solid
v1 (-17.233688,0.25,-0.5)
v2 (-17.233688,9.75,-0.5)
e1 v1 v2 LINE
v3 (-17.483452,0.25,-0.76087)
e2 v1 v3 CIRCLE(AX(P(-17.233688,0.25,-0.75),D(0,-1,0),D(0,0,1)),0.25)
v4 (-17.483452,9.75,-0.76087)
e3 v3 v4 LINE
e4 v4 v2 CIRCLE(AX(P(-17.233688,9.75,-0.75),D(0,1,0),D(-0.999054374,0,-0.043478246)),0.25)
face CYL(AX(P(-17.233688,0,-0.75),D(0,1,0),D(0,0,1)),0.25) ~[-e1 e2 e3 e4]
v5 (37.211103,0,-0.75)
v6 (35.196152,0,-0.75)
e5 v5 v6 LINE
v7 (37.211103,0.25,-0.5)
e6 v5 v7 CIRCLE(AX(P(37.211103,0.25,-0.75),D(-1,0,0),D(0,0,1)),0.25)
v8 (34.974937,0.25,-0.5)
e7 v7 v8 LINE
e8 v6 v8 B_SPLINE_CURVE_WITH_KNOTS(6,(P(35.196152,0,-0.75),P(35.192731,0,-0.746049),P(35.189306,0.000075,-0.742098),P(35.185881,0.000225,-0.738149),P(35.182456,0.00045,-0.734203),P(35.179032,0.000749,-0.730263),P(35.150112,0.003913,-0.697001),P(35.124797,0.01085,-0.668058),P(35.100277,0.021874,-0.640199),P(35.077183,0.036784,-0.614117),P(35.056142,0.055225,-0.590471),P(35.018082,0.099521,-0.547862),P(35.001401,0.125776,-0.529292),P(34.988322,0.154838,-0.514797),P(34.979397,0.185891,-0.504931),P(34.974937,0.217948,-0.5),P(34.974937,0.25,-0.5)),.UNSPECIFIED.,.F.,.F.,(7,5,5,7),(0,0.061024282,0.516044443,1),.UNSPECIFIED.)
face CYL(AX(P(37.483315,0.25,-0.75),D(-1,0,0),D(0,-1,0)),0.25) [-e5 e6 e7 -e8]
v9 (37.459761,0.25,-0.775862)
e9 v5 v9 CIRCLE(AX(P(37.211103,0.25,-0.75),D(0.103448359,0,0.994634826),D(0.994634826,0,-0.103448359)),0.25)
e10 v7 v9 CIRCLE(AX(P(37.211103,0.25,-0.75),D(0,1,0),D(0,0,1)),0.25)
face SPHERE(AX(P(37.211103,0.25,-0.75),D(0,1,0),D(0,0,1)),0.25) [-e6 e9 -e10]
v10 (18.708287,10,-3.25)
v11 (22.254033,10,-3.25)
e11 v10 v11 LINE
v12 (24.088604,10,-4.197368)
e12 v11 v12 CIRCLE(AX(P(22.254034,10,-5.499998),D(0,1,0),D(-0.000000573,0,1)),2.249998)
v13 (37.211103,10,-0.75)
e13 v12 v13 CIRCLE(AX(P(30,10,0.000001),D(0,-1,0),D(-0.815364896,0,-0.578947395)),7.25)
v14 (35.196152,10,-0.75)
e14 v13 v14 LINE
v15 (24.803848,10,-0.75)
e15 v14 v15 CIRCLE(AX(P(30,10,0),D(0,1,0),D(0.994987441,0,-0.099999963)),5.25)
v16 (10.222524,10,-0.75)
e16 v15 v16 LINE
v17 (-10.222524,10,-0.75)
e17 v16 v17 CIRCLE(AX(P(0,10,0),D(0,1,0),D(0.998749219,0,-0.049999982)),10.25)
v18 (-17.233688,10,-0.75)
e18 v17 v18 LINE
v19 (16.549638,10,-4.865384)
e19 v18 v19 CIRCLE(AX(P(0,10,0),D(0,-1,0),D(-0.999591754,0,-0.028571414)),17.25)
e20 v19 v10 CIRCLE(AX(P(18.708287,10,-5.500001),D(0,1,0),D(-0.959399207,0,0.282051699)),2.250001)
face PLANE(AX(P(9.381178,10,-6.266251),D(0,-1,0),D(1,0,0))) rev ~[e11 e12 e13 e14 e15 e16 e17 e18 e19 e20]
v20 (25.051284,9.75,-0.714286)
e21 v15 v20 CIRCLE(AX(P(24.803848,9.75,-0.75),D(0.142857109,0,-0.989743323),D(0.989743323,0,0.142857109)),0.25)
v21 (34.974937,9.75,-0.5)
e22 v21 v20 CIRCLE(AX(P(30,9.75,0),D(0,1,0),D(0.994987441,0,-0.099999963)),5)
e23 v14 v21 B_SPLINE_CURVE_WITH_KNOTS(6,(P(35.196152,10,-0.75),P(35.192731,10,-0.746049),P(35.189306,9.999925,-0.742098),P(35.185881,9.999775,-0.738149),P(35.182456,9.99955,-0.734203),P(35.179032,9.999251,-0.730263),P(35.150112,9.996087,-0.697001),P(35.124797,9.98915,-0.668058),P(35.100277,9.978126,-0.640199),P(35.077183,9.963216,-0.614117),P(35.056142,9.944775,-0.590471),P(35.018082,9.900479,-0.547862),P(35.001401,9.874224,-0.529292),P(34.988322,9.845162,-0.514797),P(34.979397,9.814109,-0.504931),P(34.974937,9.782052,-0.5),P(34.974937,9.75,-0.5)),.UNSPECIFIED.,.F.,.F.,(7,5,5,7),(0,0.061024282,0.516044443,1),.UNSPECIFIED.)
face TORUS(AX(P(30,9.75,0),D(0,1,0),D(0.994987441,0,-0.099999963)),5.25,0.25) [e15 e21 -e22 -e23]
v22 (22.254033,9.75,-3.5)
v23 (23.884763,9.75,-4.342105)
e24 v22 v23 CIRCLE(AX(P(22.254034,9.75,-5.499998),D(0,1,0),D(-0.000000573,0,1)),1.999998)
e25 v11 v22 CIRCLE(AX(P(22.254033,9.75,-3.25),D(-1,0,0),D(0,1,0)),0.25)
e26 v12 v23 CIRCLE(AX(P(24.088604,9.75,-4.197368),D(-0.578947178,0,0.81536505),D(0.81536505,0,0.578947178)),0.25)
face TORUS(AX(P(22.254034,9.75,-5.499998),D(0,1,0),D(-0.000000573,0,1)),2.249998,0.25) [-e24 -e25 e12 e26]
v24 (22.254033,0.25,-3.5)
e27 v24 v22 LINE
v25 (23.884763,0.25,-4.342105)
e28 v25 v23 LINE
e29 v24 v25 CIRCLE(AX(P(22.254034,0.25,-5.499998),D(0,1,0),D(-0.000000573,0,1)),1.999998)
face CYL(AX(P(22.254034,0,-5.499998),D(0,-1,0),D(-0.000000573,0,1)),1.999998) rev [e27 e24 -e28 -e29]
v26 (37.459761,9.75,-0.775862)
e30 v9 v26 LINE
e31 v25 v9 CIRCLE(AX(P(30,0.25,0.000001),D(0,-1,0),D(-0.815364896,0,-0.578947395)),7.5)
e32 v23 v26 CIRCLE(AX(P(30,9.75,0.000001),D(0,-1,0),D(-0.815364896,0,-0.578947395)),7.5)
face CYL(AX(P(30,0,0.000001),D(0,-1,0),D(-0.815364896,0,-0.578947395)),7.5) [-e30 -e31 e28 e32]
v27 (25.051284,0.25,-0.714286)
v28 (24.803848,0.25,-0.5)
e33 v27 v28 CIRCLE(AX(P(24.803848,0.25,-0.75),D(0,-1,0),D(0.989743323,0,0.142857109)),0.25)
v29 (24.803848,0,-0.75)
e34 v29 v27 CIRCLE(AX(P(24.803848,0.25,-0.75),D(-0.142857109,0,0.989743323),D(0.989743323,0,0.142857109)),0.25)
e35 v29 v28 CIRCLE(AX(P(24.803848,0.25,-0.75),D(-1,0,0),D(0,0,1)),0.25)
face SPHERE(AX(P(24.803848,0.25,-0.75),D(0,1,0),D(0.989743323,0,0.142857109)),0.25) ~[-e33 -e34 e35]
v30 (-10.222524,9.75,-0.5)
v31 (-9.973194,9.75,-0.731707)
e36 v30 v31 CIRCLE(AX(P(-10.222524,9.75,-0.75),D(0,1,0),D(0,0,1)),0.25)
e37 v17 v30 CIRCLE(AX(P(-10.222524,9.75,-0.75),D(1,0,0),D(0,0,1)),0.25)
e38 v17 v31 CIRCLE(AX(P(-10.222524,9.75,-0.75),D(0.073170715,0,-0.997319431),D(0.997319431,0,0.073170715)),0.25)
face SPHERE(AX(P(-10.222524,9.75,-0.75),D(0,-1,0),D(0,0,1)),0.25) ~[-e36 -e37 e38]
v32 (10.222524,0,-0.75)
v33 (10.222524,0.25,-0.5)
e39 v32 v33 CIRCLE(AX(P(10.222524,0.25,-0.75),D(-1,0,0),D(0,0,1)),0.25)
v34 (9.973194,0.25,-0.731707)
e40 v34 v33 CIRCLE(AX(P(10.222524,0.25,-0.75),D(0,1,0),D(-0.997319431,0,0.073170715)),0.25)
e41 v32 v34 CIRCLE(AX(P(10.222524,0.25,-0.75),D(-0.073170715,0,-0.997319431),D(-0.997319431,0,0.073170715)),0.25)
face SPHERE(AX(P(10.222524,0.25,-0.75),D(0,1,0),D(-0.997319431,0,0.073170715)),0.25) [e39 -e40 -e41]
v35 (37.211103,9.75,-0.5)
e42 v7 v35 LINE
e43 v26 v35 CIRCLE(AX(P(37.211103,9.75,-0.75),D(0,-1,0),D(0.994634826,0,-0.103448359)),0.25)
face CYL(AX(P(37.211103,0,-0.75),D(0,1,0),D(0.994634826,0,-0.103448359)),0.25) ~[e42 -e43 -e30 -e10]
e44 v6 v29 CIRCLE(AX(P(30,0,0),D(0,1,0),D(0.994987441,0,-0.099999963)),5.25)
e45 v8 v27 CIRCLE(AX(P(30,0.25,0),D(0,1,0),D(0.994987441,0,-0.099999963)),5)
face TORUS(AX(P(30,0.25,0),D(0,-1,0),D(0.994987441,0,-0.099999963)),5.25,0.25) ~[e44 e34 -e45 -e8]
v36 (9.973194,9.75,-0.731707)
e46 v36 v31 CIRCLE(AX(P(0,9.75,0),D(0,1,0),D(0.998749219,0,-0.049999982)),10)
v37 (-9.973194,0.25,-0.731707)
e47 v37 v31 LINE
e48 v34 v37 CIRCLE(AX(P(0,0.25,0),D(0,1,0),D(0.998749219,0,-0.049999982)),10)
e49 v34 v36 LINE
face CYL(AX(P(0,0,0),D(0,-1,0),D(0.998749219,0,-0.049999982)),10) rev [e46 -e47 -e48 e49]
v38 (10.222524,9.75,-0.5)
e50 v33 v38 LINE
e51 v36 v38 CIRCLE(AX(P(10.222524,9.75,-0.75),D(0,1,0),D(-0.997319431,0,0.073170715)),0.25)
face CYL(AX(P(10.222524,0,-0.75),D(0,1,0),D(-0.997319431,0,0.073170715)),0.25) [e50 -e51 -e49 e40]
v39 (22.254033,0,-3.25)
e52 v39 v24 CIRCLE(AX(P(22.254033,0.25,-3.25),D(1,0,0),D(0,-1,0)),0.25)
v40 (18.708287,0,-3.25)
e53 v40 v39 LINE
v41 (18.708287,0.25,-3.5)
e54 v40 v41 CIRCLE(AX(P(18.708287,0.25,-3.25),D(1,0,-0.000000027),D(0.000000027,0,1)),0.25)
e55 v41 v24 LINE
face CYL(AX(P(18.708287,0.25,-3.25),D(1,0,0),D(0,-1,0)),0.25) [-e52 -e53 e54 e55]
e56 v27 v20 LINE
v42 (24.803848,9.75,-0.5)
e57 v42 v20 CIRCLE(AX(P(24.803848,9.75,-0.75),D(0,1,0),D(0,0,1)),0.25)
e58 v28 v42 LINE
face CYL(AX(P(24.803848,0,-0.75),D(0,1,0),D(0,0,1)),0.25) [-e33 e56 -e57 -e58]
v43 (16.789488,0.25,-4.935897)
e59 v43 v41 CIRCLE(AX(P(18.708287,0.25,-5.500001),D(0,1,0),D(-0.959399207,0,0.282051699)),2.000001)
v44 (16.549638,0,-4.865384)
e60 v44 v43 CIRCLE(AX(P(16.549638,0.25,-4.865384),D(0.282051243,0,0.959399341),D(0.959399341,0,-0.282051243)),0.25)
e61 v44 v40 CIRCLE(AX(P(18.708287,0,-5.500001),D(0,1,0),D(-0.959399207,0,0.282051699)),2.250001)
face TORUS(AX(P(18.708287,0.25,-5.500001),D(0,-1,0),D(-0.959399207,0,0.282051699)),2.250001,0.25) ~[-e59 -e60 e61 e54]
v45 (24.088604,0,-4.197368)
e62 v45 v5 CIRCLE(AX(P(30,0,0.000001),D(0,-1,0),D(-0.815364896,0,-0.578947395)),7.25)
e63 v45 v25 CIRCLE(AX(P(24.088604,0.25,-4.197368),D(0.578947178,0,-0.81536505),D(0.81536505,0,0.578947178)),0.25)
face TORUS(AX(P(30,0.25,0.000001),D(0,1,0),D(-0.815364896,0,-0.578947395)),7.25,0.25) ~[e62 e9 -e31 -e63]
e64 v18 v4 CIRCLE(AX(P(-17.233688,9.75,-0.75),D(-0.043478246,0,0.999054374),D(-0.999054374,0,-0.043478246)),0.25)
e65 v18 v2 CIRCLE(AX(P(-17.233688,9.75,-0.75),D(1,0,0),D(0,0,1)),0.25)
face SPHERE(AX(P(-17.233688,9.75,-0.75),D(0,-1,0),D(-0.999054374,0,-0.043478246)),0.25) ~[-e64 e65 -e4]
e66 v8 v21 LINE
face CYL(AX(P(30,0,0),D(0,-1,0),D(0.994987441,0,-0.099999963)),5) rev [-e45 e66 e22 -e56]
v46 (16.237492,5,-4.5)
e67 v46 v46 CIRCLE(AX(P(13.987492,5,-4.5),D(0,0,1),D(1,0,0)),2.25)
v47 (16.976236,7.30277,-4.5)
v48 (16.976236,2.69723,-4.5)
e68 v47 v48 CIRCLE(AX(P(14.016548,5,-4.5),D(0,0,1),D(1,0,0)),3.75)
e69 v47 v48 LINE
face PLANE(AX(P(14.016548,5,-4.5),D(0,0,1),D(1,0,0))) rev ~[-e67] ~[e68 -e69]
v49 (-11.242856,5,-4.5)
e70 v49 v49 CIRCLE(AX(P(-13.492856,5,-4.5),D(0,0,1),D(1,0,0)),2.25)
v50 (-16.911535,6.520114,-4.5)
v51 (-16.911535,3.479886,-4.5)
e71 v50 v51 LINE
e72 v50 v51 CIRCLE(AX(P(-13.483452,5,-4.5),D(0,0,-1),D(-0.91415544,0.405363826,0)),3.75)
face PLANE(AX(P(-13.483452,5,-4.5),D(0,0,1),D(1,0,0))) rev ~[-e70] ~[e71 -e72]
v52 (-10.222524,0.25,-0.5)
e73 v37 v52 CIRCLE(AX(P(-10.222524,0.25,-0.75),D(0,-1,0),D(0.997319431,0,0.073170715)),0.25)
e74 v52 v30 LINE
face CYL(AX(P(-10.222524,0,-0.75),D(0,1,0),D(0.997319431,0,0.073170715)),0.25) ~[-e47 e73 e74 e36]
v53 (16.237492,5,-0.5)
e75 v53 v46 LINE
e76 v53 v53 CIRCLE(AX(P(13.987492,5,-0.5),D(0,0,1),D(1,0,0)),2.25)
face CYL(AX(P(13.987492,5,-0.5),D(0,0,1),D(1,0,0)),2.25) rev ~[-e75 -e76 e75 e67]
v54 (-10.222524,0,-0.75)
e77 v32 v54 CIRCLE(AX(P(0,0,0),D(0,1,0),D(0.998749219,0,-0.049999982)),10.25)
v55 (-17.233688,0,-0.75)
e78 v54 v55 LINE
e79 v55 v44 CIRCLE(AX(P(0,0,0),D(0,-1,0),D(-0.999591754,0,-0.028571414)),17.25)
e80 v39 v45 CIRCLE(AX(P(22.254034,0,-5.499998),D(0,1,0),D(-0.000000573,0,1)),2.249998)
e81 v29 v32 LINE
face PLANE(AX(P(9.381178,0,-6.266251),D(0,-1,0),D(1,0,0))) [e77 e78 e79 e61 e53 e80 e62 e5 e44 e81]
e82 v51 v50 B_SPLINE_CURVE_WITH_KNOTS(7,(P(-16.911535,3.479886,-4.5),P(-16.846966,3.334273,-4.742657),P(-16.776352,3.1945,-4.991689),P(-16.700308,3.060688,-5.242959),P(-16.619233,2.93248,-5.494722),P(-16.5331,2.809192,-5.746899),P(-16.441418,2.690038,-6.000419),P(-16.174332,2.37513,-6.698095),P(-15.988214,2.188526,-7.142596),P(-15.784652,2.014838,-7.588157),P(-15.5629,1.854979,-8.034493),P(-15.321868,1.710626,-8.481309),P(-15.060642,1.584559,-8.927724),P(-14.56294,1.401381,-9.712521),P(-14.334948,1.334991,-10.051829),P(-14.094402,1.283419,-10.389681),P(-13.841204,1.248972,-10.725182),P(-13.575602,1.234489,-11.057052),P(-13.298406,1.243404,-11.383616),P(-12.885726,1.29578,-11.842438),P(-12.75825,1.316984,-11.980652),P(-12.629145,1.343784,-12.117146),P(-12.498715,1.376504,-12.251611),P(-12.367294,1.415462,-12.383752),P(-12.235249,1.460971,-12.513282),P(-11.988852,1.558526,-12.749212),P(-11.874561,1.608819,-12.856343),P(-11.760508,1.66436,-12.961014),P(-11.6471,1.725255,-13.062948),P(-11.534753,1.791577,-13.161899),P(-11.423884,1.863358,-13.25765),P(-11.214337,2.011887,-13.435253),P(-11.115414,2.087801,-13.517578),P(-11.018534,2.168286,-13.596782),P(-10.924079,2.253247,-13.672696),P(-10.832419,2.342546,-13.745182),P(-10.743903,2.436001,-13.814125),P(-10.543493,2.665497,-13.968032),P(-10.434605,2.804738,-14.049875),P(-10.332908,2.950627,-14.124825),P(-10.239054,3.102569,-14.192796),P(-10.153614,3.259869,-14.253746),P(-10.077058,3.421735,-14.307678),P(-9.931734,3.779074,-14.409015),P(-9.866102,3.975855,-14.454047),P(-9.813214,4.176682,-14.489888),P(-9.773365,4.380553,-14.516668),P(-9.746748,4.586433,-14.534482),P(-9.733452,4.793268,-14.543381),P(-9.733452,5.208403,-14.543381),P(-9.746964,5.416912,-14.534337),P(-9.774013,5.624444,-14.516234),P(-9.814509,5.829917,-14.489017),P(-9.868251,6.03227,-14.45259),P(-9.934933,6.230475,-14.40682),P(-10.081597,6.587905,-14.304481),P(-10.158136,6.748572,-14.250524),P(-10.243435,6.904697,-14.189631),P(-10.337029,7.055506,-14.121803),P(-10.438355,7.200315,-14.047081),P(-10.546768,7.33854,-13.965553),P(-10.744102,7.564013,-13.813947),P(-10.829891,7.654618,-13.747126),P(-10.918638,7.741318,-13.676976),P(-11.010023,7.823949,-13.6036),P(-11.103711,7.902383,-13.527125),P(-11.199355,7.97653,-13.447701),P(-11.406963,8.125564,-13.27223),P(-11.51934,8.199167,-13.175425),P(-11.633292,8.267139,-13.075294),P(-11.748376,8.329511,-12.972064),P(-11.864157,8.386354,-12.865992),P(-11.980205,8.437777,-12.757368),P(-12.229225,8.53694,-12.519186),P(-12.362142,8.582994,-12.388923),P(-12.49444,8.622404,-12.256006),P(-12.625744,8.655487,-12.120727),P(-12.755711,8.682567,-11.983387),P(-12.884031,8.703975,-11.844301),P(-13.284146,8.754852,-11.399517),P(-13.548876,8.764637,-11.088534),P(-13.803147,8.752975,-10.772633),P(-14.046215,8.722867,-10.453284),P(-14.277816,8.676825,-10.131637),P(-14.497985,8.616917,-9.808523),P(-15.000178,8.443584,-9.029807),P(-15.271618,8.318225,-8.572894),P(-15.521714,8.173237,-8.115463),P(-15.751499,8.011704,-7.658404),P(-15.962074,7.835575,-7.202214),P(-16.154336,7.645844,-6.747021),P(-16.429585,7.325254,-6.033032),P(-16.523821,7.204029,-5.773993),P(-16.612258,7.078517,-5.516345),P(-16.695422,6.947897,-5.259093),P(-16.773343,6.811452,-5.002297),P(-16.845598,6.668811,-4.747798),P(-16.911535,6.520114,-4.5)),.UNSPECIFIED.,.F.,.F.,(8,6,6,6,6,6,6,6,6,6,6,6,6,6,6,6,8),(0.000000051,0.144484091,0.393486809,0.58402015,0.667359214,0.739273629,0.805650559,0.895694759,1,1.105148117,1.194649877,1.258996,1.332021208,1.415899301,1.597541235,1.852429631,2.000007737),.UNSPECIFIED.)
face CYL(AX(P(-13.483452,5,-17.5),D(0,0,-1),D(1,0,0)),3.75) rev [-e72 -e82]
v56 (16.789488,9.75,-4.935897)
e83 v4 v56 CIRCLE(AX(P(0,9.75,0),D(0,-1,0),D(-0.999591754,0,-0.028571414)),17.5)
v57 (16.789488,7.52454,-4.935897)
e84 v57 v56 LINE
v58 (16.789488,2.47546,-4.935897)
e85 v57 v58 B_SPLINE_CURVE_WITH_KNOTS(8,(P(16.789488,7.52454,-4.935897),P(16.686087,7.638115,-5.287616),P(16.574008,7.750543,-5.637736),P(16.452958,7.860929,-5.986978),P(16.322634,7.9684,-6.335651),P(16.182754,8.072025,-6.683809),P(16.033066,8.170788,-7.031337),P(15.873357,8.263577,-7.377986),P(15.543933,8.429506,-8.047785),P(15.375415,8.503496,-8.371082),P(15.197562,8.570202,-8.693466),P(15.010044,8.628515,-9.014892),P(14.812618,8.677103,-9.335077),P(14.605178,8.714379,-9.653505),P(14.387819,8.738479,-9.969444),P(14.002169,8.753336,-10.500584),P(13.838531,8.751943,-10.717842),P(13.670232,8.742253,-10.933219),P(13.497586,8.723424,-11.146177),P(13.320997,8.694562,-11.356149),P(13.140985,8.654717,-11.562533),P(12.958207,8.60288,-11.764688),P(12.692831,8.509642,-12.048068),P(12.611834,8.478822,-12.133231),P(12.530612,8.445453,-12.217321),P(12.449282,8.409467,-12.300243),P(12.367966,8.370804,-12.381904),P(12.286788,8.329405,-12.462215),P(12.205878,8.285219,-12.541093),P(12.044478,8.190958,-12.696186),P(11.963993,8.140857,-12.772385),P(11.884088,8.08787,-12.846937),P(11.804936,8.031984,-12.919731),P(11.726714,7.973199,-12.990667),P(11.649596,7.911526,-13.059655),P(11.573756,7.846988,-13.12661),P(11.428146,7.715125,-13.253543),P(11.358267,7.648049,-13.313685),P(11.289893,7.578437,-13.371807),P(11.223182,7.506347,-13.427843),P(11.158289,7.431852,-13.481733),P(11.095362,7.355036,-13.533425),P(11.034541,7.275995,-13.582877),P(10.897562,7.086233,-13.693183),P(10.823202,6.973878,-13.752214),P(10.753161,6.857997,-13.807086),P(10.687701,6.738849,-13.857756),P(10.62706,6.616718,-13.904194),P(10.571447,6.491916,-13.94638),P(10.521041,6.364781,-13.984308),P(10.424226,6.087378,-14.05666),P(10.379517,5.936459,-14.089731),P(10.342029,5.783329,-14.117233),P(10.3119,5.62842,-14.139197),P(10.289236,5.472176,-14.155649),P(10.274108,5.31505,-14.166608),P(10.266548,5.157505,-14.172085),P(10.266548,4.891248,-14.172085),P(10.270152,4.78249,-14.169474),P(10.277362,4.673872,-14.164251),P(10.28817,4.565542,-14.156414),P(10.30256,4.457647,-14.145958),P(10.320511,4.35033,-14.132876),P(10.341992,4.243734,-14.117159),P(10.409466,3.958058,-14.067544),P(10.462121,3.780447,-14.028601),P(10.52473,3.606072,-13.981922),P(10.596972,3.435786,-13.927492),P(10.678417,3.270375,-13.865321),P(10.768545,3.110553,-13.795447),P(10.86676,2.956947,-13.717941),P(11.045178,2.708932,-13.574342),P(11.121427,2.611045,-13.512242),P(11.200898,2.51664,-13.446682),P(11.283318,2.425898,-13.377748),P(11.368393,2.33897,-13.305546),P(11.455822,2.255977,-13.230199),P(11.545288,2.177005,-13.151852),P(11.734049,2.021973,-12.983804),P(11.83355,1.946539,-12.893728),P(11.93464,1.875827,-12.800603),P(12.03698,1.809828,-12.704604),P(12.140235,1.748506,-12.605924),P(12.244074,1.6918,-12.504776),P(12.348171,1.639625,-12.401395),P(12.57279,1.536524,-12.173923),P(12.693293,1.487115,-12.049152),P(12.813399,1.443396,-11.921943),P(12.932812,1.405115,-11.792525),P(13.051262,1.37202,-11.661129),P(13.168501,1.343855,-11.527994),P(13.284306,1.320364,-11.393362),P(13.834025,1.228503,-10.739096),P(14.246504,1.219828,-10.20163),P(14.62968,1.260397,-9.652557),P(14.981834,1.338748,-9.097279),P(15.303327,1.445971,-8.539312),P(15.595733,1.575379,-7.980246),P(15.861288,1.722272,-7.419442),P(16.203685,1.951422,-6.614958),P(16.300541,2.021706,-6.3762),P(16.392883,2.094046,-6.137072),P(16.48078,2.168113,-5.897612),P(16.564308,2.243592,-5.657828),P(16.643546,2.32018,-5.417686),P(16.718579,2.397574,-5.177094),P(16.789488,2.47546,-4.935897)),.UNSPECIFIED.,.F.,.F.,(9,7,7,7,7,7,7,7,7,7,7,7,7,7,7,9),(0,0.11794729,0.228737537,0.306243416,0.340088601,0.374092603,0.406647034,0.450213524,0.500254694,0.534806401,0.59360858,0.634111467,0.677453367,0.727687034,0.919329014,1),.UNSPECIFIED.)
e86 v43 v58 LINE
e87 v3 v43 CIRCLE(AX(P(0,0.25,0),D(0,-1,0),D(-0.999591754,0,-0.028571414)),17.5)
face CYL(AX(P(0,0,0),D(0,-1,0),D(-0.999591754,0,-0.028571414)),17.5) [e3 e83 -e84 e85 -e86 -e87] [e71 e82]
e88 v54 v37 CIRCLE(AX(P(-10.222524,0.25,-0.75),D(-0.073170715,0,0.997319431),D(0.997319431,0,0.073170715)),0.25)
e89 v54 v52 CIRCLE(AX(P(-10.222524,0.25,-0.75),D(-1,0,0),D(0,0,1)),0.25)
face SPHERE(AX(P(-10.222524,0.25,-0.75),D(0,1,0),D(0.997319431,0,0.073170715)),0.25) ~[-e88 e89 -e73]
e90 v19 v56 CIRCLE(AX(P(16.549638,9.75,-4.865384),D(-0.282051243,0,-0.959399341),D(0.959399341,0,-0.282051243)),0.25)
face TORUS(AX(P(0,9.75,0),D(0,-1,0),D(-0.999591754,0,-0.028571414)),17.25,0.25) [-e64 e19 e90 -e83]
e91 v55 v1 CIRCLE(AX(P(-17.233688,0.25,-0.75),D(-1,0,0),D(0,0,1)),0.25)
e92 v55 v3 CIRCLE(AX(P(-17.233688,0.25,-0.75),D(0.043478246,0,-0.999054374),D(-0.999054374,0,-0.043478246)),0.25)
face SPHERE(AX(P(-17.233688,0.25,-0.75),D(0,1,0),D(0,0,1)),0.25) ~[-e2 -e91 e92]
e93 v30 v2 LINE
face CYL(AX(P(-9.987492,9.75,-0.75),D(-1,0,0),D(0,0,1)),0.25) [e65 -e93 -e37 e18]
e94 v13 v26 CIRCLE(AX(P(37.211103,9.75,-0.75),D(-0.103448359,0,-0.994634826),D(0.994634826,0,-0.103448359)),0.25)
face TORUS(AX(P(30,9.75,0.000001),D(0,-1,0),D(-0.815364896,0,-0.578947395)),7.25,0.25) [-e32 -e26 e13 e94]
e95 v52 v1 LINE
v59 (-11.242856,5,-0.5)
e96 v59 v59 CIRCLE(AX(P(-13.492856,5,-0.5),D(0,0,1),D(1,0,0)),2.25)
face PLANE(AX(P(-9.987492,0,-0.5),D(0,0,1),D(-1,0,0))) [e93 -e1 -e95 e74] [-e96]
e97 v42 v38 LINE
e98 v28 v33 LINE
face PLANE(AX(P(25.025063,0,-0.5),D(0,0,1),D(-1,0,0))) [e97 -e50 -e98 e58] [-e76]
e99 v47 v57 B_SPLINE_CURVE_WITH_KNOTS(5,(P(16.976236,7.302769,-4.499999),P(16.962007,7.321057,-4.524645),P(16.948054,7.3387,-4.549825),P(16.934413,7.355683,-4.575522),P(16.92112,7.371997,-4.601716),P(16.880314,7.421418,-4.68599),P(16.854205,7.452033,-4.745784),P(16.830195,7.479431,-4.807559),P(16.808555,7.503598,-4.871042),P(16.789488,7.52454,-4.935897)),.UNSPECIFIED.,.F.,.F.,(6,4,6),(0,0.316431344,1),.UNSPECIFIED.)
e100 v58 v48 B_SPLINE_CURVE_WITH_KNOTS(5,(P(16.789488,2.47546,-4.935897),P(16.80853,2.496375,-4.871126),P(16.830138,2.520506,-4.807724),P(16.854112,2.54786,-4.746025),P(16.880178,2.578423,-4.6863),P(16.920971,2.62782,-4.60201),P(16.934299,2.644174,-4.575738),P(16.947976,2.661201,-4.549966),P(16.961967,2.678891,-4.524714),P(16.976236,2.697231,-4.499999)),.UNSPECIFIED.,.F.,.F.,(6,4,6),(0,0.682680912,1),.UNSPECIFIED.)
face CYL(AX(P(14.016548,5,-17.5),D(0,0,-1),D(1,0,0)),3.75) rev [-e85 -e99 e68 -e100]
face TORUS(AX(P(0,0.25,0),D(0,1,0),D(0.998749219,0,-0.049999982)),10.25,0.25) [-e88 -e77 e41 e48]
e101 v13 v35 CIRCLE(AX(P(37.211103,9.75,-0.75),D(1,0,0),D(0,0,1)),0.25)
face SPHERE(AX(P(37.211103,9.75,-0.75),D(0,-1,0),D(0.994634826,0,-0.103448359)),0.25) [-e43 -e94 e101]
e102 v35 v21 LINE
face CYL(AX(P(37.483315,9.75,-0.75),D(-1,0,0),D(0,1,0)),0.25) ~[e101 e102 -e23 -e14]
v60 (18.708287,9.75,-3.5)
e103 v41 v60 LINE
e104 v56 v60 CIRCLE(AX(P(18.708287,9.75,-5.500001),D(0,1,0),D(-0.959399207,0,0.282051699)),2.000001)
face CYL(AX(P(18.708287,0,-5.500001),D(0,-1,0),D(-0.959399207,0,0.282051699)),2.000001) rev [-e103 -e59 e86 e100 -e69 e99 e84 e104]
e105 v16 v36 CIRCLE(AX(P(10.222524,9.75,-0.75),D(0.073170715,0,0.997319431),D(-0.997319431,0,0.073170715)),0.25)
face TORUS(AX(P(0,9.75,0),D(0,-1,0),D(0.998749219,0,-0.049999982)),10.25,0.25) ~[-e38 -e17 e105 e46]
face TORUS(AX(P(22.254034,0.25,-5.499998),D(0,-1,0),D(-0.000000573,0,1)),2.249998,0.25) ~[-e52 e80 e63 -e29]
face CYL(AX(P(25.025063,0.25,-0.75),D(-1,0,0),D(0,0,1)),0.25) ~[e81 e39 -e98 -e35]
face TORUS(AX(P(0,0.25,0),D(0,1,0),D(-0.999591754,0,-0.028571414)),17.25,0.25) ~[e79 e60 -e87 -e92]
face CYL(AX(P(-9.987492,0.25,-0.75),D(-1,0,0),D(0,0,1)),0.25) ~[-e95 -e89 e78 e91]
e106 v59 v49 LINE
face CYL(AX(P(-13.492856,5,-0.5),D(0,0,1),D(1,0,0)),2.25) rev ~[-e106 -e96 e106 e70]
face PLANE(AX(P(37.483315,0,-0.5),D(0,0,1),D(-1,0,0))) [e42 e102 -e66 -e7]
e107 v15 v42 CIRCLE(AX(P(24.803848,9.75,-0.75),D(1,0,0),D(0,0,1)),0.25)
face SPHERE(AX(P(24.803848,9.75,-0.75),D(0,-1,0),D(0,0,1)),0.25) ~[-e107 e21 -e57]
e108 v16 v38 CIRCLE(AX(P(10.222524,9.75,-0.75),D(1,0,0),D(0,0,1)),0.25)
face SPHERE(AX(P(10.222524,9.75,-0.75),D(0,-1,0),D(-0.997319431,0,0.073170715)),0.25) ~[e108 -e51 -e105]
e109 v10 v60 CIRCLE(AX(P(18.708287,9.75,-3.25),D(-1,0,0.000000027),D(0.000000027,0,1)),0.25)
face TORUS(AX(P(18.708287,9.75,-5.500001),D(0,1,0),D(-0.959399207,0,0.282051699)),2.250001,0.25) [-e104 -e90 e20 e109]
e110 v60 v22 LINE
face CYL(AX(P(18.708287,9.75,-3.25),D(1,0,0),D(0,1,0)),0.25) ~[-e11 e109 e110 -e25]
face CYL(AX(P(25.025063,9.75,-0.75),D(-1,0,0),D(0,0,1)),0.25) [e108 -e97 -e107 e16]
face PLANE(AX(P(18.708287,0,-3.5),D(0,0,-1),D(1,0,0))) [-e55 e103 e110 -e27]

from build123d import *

# Parameters (mm, degrees)
F1_DEPTH = 10
F2_R     = 2.25
F3_DEPTH = 25
F4_R     = 0.25
F6_R     = 3.75
F7_DEPTH = 13


with BuildPart() as f1:
    # F0 (on Front) → F1 (new body)
    with BuildSketch(Plane.XZ):
        with BuildLine():
            ThreePointArc((9.987492, -0.5), (0, -10), (-9.987492, -0.5))
            Line((-9.987492, -0.5), (-17.492856, -0.5))
            ThreePointArc((-17.492856, -0.5), (-2.245658, -17.355317), (16.789488, -4.935897))
            ThreePointArc((16.789488, -4.935897), (17.509998, -3.898718), (18.708287, -3.5))
            Line((18.708287, -3.5), (22.254033, -3.5))
            ThreePointArc((22.254033, -3.5), (23.171696, -3.722953), (23.884763, -4.342105))
            ThreePointArc((23.884763, -4.342105), (32.039204, -7.217454), (37.483315, -0.5))
            Line((37.483315, -0.5), (34.974937, -0.5))
            ThreePointArc((34.974937, -0.5), (30, -5), (25.025063, -0.5))
            Line((25.025063, -0.5), (9.987492, -0.5))
        make_face()
    extrude(amount=-F1_DEPTH)

    # F2 (on face) → F3 (cut)
    with BuildSketch(Plane.XY.offset(-0.5)):
        with Locations((-13.492856, 5)):
            Circle(F2_R)
        with Locations((13.987492, 5)):
            Circle(F2_R)
    extrude(amount=-F3_DEPTH, mode=Mode.SUBTRACT)

    # F4
    f4_edges = [f1.edges().sort_by_distance(p)[0] for p in [
        (0, 0, -10),
        (-13.740174, 0, -0.5),
        (-2.245658, 0, -17.355317),
        (17.509998, 0, -3.898718),
        (20.48116, 0, -3.5),
        (23.171696, 0, -3.722953),
        (30, 0, -5),
        (17.506277, 0, -0.5),
        (25.025063, 5, -0.5),
        (-9.987492, 5, -0.5),
        (37.483315, 5, -0.5),
        (36.229126, 0, -0.5),
        (32.039204, 0, -7.217454),
        (32.039204, 10, -7.217454),
        (-13.740174, 10, -0.5),
        (-2.245658, 10, -17.355317),
        (0, 10, -10),
        (17.506277, 10, -0.5),
        (30, 10, -5),
        (36.229126, 10, -0.5),
        (-17.492856, 5, -0.5),
        (9.987492, 5, -0.5),
    ]]
    fillet(f4_edges, radius=F4_R)

    # F6 (on offset) → F7 (cut)
    with BuildSketch(Plane.XY.offset(-17.5)):
        with Locations((-13.483452, 5)):
            Circle(F6_R)
        with Locations((14.016548, 5)):
            Circle(F6_R)
    extrude(amount=F7_DEPTH, mode=Mode.SUBTRACT)


solid = f1.part
